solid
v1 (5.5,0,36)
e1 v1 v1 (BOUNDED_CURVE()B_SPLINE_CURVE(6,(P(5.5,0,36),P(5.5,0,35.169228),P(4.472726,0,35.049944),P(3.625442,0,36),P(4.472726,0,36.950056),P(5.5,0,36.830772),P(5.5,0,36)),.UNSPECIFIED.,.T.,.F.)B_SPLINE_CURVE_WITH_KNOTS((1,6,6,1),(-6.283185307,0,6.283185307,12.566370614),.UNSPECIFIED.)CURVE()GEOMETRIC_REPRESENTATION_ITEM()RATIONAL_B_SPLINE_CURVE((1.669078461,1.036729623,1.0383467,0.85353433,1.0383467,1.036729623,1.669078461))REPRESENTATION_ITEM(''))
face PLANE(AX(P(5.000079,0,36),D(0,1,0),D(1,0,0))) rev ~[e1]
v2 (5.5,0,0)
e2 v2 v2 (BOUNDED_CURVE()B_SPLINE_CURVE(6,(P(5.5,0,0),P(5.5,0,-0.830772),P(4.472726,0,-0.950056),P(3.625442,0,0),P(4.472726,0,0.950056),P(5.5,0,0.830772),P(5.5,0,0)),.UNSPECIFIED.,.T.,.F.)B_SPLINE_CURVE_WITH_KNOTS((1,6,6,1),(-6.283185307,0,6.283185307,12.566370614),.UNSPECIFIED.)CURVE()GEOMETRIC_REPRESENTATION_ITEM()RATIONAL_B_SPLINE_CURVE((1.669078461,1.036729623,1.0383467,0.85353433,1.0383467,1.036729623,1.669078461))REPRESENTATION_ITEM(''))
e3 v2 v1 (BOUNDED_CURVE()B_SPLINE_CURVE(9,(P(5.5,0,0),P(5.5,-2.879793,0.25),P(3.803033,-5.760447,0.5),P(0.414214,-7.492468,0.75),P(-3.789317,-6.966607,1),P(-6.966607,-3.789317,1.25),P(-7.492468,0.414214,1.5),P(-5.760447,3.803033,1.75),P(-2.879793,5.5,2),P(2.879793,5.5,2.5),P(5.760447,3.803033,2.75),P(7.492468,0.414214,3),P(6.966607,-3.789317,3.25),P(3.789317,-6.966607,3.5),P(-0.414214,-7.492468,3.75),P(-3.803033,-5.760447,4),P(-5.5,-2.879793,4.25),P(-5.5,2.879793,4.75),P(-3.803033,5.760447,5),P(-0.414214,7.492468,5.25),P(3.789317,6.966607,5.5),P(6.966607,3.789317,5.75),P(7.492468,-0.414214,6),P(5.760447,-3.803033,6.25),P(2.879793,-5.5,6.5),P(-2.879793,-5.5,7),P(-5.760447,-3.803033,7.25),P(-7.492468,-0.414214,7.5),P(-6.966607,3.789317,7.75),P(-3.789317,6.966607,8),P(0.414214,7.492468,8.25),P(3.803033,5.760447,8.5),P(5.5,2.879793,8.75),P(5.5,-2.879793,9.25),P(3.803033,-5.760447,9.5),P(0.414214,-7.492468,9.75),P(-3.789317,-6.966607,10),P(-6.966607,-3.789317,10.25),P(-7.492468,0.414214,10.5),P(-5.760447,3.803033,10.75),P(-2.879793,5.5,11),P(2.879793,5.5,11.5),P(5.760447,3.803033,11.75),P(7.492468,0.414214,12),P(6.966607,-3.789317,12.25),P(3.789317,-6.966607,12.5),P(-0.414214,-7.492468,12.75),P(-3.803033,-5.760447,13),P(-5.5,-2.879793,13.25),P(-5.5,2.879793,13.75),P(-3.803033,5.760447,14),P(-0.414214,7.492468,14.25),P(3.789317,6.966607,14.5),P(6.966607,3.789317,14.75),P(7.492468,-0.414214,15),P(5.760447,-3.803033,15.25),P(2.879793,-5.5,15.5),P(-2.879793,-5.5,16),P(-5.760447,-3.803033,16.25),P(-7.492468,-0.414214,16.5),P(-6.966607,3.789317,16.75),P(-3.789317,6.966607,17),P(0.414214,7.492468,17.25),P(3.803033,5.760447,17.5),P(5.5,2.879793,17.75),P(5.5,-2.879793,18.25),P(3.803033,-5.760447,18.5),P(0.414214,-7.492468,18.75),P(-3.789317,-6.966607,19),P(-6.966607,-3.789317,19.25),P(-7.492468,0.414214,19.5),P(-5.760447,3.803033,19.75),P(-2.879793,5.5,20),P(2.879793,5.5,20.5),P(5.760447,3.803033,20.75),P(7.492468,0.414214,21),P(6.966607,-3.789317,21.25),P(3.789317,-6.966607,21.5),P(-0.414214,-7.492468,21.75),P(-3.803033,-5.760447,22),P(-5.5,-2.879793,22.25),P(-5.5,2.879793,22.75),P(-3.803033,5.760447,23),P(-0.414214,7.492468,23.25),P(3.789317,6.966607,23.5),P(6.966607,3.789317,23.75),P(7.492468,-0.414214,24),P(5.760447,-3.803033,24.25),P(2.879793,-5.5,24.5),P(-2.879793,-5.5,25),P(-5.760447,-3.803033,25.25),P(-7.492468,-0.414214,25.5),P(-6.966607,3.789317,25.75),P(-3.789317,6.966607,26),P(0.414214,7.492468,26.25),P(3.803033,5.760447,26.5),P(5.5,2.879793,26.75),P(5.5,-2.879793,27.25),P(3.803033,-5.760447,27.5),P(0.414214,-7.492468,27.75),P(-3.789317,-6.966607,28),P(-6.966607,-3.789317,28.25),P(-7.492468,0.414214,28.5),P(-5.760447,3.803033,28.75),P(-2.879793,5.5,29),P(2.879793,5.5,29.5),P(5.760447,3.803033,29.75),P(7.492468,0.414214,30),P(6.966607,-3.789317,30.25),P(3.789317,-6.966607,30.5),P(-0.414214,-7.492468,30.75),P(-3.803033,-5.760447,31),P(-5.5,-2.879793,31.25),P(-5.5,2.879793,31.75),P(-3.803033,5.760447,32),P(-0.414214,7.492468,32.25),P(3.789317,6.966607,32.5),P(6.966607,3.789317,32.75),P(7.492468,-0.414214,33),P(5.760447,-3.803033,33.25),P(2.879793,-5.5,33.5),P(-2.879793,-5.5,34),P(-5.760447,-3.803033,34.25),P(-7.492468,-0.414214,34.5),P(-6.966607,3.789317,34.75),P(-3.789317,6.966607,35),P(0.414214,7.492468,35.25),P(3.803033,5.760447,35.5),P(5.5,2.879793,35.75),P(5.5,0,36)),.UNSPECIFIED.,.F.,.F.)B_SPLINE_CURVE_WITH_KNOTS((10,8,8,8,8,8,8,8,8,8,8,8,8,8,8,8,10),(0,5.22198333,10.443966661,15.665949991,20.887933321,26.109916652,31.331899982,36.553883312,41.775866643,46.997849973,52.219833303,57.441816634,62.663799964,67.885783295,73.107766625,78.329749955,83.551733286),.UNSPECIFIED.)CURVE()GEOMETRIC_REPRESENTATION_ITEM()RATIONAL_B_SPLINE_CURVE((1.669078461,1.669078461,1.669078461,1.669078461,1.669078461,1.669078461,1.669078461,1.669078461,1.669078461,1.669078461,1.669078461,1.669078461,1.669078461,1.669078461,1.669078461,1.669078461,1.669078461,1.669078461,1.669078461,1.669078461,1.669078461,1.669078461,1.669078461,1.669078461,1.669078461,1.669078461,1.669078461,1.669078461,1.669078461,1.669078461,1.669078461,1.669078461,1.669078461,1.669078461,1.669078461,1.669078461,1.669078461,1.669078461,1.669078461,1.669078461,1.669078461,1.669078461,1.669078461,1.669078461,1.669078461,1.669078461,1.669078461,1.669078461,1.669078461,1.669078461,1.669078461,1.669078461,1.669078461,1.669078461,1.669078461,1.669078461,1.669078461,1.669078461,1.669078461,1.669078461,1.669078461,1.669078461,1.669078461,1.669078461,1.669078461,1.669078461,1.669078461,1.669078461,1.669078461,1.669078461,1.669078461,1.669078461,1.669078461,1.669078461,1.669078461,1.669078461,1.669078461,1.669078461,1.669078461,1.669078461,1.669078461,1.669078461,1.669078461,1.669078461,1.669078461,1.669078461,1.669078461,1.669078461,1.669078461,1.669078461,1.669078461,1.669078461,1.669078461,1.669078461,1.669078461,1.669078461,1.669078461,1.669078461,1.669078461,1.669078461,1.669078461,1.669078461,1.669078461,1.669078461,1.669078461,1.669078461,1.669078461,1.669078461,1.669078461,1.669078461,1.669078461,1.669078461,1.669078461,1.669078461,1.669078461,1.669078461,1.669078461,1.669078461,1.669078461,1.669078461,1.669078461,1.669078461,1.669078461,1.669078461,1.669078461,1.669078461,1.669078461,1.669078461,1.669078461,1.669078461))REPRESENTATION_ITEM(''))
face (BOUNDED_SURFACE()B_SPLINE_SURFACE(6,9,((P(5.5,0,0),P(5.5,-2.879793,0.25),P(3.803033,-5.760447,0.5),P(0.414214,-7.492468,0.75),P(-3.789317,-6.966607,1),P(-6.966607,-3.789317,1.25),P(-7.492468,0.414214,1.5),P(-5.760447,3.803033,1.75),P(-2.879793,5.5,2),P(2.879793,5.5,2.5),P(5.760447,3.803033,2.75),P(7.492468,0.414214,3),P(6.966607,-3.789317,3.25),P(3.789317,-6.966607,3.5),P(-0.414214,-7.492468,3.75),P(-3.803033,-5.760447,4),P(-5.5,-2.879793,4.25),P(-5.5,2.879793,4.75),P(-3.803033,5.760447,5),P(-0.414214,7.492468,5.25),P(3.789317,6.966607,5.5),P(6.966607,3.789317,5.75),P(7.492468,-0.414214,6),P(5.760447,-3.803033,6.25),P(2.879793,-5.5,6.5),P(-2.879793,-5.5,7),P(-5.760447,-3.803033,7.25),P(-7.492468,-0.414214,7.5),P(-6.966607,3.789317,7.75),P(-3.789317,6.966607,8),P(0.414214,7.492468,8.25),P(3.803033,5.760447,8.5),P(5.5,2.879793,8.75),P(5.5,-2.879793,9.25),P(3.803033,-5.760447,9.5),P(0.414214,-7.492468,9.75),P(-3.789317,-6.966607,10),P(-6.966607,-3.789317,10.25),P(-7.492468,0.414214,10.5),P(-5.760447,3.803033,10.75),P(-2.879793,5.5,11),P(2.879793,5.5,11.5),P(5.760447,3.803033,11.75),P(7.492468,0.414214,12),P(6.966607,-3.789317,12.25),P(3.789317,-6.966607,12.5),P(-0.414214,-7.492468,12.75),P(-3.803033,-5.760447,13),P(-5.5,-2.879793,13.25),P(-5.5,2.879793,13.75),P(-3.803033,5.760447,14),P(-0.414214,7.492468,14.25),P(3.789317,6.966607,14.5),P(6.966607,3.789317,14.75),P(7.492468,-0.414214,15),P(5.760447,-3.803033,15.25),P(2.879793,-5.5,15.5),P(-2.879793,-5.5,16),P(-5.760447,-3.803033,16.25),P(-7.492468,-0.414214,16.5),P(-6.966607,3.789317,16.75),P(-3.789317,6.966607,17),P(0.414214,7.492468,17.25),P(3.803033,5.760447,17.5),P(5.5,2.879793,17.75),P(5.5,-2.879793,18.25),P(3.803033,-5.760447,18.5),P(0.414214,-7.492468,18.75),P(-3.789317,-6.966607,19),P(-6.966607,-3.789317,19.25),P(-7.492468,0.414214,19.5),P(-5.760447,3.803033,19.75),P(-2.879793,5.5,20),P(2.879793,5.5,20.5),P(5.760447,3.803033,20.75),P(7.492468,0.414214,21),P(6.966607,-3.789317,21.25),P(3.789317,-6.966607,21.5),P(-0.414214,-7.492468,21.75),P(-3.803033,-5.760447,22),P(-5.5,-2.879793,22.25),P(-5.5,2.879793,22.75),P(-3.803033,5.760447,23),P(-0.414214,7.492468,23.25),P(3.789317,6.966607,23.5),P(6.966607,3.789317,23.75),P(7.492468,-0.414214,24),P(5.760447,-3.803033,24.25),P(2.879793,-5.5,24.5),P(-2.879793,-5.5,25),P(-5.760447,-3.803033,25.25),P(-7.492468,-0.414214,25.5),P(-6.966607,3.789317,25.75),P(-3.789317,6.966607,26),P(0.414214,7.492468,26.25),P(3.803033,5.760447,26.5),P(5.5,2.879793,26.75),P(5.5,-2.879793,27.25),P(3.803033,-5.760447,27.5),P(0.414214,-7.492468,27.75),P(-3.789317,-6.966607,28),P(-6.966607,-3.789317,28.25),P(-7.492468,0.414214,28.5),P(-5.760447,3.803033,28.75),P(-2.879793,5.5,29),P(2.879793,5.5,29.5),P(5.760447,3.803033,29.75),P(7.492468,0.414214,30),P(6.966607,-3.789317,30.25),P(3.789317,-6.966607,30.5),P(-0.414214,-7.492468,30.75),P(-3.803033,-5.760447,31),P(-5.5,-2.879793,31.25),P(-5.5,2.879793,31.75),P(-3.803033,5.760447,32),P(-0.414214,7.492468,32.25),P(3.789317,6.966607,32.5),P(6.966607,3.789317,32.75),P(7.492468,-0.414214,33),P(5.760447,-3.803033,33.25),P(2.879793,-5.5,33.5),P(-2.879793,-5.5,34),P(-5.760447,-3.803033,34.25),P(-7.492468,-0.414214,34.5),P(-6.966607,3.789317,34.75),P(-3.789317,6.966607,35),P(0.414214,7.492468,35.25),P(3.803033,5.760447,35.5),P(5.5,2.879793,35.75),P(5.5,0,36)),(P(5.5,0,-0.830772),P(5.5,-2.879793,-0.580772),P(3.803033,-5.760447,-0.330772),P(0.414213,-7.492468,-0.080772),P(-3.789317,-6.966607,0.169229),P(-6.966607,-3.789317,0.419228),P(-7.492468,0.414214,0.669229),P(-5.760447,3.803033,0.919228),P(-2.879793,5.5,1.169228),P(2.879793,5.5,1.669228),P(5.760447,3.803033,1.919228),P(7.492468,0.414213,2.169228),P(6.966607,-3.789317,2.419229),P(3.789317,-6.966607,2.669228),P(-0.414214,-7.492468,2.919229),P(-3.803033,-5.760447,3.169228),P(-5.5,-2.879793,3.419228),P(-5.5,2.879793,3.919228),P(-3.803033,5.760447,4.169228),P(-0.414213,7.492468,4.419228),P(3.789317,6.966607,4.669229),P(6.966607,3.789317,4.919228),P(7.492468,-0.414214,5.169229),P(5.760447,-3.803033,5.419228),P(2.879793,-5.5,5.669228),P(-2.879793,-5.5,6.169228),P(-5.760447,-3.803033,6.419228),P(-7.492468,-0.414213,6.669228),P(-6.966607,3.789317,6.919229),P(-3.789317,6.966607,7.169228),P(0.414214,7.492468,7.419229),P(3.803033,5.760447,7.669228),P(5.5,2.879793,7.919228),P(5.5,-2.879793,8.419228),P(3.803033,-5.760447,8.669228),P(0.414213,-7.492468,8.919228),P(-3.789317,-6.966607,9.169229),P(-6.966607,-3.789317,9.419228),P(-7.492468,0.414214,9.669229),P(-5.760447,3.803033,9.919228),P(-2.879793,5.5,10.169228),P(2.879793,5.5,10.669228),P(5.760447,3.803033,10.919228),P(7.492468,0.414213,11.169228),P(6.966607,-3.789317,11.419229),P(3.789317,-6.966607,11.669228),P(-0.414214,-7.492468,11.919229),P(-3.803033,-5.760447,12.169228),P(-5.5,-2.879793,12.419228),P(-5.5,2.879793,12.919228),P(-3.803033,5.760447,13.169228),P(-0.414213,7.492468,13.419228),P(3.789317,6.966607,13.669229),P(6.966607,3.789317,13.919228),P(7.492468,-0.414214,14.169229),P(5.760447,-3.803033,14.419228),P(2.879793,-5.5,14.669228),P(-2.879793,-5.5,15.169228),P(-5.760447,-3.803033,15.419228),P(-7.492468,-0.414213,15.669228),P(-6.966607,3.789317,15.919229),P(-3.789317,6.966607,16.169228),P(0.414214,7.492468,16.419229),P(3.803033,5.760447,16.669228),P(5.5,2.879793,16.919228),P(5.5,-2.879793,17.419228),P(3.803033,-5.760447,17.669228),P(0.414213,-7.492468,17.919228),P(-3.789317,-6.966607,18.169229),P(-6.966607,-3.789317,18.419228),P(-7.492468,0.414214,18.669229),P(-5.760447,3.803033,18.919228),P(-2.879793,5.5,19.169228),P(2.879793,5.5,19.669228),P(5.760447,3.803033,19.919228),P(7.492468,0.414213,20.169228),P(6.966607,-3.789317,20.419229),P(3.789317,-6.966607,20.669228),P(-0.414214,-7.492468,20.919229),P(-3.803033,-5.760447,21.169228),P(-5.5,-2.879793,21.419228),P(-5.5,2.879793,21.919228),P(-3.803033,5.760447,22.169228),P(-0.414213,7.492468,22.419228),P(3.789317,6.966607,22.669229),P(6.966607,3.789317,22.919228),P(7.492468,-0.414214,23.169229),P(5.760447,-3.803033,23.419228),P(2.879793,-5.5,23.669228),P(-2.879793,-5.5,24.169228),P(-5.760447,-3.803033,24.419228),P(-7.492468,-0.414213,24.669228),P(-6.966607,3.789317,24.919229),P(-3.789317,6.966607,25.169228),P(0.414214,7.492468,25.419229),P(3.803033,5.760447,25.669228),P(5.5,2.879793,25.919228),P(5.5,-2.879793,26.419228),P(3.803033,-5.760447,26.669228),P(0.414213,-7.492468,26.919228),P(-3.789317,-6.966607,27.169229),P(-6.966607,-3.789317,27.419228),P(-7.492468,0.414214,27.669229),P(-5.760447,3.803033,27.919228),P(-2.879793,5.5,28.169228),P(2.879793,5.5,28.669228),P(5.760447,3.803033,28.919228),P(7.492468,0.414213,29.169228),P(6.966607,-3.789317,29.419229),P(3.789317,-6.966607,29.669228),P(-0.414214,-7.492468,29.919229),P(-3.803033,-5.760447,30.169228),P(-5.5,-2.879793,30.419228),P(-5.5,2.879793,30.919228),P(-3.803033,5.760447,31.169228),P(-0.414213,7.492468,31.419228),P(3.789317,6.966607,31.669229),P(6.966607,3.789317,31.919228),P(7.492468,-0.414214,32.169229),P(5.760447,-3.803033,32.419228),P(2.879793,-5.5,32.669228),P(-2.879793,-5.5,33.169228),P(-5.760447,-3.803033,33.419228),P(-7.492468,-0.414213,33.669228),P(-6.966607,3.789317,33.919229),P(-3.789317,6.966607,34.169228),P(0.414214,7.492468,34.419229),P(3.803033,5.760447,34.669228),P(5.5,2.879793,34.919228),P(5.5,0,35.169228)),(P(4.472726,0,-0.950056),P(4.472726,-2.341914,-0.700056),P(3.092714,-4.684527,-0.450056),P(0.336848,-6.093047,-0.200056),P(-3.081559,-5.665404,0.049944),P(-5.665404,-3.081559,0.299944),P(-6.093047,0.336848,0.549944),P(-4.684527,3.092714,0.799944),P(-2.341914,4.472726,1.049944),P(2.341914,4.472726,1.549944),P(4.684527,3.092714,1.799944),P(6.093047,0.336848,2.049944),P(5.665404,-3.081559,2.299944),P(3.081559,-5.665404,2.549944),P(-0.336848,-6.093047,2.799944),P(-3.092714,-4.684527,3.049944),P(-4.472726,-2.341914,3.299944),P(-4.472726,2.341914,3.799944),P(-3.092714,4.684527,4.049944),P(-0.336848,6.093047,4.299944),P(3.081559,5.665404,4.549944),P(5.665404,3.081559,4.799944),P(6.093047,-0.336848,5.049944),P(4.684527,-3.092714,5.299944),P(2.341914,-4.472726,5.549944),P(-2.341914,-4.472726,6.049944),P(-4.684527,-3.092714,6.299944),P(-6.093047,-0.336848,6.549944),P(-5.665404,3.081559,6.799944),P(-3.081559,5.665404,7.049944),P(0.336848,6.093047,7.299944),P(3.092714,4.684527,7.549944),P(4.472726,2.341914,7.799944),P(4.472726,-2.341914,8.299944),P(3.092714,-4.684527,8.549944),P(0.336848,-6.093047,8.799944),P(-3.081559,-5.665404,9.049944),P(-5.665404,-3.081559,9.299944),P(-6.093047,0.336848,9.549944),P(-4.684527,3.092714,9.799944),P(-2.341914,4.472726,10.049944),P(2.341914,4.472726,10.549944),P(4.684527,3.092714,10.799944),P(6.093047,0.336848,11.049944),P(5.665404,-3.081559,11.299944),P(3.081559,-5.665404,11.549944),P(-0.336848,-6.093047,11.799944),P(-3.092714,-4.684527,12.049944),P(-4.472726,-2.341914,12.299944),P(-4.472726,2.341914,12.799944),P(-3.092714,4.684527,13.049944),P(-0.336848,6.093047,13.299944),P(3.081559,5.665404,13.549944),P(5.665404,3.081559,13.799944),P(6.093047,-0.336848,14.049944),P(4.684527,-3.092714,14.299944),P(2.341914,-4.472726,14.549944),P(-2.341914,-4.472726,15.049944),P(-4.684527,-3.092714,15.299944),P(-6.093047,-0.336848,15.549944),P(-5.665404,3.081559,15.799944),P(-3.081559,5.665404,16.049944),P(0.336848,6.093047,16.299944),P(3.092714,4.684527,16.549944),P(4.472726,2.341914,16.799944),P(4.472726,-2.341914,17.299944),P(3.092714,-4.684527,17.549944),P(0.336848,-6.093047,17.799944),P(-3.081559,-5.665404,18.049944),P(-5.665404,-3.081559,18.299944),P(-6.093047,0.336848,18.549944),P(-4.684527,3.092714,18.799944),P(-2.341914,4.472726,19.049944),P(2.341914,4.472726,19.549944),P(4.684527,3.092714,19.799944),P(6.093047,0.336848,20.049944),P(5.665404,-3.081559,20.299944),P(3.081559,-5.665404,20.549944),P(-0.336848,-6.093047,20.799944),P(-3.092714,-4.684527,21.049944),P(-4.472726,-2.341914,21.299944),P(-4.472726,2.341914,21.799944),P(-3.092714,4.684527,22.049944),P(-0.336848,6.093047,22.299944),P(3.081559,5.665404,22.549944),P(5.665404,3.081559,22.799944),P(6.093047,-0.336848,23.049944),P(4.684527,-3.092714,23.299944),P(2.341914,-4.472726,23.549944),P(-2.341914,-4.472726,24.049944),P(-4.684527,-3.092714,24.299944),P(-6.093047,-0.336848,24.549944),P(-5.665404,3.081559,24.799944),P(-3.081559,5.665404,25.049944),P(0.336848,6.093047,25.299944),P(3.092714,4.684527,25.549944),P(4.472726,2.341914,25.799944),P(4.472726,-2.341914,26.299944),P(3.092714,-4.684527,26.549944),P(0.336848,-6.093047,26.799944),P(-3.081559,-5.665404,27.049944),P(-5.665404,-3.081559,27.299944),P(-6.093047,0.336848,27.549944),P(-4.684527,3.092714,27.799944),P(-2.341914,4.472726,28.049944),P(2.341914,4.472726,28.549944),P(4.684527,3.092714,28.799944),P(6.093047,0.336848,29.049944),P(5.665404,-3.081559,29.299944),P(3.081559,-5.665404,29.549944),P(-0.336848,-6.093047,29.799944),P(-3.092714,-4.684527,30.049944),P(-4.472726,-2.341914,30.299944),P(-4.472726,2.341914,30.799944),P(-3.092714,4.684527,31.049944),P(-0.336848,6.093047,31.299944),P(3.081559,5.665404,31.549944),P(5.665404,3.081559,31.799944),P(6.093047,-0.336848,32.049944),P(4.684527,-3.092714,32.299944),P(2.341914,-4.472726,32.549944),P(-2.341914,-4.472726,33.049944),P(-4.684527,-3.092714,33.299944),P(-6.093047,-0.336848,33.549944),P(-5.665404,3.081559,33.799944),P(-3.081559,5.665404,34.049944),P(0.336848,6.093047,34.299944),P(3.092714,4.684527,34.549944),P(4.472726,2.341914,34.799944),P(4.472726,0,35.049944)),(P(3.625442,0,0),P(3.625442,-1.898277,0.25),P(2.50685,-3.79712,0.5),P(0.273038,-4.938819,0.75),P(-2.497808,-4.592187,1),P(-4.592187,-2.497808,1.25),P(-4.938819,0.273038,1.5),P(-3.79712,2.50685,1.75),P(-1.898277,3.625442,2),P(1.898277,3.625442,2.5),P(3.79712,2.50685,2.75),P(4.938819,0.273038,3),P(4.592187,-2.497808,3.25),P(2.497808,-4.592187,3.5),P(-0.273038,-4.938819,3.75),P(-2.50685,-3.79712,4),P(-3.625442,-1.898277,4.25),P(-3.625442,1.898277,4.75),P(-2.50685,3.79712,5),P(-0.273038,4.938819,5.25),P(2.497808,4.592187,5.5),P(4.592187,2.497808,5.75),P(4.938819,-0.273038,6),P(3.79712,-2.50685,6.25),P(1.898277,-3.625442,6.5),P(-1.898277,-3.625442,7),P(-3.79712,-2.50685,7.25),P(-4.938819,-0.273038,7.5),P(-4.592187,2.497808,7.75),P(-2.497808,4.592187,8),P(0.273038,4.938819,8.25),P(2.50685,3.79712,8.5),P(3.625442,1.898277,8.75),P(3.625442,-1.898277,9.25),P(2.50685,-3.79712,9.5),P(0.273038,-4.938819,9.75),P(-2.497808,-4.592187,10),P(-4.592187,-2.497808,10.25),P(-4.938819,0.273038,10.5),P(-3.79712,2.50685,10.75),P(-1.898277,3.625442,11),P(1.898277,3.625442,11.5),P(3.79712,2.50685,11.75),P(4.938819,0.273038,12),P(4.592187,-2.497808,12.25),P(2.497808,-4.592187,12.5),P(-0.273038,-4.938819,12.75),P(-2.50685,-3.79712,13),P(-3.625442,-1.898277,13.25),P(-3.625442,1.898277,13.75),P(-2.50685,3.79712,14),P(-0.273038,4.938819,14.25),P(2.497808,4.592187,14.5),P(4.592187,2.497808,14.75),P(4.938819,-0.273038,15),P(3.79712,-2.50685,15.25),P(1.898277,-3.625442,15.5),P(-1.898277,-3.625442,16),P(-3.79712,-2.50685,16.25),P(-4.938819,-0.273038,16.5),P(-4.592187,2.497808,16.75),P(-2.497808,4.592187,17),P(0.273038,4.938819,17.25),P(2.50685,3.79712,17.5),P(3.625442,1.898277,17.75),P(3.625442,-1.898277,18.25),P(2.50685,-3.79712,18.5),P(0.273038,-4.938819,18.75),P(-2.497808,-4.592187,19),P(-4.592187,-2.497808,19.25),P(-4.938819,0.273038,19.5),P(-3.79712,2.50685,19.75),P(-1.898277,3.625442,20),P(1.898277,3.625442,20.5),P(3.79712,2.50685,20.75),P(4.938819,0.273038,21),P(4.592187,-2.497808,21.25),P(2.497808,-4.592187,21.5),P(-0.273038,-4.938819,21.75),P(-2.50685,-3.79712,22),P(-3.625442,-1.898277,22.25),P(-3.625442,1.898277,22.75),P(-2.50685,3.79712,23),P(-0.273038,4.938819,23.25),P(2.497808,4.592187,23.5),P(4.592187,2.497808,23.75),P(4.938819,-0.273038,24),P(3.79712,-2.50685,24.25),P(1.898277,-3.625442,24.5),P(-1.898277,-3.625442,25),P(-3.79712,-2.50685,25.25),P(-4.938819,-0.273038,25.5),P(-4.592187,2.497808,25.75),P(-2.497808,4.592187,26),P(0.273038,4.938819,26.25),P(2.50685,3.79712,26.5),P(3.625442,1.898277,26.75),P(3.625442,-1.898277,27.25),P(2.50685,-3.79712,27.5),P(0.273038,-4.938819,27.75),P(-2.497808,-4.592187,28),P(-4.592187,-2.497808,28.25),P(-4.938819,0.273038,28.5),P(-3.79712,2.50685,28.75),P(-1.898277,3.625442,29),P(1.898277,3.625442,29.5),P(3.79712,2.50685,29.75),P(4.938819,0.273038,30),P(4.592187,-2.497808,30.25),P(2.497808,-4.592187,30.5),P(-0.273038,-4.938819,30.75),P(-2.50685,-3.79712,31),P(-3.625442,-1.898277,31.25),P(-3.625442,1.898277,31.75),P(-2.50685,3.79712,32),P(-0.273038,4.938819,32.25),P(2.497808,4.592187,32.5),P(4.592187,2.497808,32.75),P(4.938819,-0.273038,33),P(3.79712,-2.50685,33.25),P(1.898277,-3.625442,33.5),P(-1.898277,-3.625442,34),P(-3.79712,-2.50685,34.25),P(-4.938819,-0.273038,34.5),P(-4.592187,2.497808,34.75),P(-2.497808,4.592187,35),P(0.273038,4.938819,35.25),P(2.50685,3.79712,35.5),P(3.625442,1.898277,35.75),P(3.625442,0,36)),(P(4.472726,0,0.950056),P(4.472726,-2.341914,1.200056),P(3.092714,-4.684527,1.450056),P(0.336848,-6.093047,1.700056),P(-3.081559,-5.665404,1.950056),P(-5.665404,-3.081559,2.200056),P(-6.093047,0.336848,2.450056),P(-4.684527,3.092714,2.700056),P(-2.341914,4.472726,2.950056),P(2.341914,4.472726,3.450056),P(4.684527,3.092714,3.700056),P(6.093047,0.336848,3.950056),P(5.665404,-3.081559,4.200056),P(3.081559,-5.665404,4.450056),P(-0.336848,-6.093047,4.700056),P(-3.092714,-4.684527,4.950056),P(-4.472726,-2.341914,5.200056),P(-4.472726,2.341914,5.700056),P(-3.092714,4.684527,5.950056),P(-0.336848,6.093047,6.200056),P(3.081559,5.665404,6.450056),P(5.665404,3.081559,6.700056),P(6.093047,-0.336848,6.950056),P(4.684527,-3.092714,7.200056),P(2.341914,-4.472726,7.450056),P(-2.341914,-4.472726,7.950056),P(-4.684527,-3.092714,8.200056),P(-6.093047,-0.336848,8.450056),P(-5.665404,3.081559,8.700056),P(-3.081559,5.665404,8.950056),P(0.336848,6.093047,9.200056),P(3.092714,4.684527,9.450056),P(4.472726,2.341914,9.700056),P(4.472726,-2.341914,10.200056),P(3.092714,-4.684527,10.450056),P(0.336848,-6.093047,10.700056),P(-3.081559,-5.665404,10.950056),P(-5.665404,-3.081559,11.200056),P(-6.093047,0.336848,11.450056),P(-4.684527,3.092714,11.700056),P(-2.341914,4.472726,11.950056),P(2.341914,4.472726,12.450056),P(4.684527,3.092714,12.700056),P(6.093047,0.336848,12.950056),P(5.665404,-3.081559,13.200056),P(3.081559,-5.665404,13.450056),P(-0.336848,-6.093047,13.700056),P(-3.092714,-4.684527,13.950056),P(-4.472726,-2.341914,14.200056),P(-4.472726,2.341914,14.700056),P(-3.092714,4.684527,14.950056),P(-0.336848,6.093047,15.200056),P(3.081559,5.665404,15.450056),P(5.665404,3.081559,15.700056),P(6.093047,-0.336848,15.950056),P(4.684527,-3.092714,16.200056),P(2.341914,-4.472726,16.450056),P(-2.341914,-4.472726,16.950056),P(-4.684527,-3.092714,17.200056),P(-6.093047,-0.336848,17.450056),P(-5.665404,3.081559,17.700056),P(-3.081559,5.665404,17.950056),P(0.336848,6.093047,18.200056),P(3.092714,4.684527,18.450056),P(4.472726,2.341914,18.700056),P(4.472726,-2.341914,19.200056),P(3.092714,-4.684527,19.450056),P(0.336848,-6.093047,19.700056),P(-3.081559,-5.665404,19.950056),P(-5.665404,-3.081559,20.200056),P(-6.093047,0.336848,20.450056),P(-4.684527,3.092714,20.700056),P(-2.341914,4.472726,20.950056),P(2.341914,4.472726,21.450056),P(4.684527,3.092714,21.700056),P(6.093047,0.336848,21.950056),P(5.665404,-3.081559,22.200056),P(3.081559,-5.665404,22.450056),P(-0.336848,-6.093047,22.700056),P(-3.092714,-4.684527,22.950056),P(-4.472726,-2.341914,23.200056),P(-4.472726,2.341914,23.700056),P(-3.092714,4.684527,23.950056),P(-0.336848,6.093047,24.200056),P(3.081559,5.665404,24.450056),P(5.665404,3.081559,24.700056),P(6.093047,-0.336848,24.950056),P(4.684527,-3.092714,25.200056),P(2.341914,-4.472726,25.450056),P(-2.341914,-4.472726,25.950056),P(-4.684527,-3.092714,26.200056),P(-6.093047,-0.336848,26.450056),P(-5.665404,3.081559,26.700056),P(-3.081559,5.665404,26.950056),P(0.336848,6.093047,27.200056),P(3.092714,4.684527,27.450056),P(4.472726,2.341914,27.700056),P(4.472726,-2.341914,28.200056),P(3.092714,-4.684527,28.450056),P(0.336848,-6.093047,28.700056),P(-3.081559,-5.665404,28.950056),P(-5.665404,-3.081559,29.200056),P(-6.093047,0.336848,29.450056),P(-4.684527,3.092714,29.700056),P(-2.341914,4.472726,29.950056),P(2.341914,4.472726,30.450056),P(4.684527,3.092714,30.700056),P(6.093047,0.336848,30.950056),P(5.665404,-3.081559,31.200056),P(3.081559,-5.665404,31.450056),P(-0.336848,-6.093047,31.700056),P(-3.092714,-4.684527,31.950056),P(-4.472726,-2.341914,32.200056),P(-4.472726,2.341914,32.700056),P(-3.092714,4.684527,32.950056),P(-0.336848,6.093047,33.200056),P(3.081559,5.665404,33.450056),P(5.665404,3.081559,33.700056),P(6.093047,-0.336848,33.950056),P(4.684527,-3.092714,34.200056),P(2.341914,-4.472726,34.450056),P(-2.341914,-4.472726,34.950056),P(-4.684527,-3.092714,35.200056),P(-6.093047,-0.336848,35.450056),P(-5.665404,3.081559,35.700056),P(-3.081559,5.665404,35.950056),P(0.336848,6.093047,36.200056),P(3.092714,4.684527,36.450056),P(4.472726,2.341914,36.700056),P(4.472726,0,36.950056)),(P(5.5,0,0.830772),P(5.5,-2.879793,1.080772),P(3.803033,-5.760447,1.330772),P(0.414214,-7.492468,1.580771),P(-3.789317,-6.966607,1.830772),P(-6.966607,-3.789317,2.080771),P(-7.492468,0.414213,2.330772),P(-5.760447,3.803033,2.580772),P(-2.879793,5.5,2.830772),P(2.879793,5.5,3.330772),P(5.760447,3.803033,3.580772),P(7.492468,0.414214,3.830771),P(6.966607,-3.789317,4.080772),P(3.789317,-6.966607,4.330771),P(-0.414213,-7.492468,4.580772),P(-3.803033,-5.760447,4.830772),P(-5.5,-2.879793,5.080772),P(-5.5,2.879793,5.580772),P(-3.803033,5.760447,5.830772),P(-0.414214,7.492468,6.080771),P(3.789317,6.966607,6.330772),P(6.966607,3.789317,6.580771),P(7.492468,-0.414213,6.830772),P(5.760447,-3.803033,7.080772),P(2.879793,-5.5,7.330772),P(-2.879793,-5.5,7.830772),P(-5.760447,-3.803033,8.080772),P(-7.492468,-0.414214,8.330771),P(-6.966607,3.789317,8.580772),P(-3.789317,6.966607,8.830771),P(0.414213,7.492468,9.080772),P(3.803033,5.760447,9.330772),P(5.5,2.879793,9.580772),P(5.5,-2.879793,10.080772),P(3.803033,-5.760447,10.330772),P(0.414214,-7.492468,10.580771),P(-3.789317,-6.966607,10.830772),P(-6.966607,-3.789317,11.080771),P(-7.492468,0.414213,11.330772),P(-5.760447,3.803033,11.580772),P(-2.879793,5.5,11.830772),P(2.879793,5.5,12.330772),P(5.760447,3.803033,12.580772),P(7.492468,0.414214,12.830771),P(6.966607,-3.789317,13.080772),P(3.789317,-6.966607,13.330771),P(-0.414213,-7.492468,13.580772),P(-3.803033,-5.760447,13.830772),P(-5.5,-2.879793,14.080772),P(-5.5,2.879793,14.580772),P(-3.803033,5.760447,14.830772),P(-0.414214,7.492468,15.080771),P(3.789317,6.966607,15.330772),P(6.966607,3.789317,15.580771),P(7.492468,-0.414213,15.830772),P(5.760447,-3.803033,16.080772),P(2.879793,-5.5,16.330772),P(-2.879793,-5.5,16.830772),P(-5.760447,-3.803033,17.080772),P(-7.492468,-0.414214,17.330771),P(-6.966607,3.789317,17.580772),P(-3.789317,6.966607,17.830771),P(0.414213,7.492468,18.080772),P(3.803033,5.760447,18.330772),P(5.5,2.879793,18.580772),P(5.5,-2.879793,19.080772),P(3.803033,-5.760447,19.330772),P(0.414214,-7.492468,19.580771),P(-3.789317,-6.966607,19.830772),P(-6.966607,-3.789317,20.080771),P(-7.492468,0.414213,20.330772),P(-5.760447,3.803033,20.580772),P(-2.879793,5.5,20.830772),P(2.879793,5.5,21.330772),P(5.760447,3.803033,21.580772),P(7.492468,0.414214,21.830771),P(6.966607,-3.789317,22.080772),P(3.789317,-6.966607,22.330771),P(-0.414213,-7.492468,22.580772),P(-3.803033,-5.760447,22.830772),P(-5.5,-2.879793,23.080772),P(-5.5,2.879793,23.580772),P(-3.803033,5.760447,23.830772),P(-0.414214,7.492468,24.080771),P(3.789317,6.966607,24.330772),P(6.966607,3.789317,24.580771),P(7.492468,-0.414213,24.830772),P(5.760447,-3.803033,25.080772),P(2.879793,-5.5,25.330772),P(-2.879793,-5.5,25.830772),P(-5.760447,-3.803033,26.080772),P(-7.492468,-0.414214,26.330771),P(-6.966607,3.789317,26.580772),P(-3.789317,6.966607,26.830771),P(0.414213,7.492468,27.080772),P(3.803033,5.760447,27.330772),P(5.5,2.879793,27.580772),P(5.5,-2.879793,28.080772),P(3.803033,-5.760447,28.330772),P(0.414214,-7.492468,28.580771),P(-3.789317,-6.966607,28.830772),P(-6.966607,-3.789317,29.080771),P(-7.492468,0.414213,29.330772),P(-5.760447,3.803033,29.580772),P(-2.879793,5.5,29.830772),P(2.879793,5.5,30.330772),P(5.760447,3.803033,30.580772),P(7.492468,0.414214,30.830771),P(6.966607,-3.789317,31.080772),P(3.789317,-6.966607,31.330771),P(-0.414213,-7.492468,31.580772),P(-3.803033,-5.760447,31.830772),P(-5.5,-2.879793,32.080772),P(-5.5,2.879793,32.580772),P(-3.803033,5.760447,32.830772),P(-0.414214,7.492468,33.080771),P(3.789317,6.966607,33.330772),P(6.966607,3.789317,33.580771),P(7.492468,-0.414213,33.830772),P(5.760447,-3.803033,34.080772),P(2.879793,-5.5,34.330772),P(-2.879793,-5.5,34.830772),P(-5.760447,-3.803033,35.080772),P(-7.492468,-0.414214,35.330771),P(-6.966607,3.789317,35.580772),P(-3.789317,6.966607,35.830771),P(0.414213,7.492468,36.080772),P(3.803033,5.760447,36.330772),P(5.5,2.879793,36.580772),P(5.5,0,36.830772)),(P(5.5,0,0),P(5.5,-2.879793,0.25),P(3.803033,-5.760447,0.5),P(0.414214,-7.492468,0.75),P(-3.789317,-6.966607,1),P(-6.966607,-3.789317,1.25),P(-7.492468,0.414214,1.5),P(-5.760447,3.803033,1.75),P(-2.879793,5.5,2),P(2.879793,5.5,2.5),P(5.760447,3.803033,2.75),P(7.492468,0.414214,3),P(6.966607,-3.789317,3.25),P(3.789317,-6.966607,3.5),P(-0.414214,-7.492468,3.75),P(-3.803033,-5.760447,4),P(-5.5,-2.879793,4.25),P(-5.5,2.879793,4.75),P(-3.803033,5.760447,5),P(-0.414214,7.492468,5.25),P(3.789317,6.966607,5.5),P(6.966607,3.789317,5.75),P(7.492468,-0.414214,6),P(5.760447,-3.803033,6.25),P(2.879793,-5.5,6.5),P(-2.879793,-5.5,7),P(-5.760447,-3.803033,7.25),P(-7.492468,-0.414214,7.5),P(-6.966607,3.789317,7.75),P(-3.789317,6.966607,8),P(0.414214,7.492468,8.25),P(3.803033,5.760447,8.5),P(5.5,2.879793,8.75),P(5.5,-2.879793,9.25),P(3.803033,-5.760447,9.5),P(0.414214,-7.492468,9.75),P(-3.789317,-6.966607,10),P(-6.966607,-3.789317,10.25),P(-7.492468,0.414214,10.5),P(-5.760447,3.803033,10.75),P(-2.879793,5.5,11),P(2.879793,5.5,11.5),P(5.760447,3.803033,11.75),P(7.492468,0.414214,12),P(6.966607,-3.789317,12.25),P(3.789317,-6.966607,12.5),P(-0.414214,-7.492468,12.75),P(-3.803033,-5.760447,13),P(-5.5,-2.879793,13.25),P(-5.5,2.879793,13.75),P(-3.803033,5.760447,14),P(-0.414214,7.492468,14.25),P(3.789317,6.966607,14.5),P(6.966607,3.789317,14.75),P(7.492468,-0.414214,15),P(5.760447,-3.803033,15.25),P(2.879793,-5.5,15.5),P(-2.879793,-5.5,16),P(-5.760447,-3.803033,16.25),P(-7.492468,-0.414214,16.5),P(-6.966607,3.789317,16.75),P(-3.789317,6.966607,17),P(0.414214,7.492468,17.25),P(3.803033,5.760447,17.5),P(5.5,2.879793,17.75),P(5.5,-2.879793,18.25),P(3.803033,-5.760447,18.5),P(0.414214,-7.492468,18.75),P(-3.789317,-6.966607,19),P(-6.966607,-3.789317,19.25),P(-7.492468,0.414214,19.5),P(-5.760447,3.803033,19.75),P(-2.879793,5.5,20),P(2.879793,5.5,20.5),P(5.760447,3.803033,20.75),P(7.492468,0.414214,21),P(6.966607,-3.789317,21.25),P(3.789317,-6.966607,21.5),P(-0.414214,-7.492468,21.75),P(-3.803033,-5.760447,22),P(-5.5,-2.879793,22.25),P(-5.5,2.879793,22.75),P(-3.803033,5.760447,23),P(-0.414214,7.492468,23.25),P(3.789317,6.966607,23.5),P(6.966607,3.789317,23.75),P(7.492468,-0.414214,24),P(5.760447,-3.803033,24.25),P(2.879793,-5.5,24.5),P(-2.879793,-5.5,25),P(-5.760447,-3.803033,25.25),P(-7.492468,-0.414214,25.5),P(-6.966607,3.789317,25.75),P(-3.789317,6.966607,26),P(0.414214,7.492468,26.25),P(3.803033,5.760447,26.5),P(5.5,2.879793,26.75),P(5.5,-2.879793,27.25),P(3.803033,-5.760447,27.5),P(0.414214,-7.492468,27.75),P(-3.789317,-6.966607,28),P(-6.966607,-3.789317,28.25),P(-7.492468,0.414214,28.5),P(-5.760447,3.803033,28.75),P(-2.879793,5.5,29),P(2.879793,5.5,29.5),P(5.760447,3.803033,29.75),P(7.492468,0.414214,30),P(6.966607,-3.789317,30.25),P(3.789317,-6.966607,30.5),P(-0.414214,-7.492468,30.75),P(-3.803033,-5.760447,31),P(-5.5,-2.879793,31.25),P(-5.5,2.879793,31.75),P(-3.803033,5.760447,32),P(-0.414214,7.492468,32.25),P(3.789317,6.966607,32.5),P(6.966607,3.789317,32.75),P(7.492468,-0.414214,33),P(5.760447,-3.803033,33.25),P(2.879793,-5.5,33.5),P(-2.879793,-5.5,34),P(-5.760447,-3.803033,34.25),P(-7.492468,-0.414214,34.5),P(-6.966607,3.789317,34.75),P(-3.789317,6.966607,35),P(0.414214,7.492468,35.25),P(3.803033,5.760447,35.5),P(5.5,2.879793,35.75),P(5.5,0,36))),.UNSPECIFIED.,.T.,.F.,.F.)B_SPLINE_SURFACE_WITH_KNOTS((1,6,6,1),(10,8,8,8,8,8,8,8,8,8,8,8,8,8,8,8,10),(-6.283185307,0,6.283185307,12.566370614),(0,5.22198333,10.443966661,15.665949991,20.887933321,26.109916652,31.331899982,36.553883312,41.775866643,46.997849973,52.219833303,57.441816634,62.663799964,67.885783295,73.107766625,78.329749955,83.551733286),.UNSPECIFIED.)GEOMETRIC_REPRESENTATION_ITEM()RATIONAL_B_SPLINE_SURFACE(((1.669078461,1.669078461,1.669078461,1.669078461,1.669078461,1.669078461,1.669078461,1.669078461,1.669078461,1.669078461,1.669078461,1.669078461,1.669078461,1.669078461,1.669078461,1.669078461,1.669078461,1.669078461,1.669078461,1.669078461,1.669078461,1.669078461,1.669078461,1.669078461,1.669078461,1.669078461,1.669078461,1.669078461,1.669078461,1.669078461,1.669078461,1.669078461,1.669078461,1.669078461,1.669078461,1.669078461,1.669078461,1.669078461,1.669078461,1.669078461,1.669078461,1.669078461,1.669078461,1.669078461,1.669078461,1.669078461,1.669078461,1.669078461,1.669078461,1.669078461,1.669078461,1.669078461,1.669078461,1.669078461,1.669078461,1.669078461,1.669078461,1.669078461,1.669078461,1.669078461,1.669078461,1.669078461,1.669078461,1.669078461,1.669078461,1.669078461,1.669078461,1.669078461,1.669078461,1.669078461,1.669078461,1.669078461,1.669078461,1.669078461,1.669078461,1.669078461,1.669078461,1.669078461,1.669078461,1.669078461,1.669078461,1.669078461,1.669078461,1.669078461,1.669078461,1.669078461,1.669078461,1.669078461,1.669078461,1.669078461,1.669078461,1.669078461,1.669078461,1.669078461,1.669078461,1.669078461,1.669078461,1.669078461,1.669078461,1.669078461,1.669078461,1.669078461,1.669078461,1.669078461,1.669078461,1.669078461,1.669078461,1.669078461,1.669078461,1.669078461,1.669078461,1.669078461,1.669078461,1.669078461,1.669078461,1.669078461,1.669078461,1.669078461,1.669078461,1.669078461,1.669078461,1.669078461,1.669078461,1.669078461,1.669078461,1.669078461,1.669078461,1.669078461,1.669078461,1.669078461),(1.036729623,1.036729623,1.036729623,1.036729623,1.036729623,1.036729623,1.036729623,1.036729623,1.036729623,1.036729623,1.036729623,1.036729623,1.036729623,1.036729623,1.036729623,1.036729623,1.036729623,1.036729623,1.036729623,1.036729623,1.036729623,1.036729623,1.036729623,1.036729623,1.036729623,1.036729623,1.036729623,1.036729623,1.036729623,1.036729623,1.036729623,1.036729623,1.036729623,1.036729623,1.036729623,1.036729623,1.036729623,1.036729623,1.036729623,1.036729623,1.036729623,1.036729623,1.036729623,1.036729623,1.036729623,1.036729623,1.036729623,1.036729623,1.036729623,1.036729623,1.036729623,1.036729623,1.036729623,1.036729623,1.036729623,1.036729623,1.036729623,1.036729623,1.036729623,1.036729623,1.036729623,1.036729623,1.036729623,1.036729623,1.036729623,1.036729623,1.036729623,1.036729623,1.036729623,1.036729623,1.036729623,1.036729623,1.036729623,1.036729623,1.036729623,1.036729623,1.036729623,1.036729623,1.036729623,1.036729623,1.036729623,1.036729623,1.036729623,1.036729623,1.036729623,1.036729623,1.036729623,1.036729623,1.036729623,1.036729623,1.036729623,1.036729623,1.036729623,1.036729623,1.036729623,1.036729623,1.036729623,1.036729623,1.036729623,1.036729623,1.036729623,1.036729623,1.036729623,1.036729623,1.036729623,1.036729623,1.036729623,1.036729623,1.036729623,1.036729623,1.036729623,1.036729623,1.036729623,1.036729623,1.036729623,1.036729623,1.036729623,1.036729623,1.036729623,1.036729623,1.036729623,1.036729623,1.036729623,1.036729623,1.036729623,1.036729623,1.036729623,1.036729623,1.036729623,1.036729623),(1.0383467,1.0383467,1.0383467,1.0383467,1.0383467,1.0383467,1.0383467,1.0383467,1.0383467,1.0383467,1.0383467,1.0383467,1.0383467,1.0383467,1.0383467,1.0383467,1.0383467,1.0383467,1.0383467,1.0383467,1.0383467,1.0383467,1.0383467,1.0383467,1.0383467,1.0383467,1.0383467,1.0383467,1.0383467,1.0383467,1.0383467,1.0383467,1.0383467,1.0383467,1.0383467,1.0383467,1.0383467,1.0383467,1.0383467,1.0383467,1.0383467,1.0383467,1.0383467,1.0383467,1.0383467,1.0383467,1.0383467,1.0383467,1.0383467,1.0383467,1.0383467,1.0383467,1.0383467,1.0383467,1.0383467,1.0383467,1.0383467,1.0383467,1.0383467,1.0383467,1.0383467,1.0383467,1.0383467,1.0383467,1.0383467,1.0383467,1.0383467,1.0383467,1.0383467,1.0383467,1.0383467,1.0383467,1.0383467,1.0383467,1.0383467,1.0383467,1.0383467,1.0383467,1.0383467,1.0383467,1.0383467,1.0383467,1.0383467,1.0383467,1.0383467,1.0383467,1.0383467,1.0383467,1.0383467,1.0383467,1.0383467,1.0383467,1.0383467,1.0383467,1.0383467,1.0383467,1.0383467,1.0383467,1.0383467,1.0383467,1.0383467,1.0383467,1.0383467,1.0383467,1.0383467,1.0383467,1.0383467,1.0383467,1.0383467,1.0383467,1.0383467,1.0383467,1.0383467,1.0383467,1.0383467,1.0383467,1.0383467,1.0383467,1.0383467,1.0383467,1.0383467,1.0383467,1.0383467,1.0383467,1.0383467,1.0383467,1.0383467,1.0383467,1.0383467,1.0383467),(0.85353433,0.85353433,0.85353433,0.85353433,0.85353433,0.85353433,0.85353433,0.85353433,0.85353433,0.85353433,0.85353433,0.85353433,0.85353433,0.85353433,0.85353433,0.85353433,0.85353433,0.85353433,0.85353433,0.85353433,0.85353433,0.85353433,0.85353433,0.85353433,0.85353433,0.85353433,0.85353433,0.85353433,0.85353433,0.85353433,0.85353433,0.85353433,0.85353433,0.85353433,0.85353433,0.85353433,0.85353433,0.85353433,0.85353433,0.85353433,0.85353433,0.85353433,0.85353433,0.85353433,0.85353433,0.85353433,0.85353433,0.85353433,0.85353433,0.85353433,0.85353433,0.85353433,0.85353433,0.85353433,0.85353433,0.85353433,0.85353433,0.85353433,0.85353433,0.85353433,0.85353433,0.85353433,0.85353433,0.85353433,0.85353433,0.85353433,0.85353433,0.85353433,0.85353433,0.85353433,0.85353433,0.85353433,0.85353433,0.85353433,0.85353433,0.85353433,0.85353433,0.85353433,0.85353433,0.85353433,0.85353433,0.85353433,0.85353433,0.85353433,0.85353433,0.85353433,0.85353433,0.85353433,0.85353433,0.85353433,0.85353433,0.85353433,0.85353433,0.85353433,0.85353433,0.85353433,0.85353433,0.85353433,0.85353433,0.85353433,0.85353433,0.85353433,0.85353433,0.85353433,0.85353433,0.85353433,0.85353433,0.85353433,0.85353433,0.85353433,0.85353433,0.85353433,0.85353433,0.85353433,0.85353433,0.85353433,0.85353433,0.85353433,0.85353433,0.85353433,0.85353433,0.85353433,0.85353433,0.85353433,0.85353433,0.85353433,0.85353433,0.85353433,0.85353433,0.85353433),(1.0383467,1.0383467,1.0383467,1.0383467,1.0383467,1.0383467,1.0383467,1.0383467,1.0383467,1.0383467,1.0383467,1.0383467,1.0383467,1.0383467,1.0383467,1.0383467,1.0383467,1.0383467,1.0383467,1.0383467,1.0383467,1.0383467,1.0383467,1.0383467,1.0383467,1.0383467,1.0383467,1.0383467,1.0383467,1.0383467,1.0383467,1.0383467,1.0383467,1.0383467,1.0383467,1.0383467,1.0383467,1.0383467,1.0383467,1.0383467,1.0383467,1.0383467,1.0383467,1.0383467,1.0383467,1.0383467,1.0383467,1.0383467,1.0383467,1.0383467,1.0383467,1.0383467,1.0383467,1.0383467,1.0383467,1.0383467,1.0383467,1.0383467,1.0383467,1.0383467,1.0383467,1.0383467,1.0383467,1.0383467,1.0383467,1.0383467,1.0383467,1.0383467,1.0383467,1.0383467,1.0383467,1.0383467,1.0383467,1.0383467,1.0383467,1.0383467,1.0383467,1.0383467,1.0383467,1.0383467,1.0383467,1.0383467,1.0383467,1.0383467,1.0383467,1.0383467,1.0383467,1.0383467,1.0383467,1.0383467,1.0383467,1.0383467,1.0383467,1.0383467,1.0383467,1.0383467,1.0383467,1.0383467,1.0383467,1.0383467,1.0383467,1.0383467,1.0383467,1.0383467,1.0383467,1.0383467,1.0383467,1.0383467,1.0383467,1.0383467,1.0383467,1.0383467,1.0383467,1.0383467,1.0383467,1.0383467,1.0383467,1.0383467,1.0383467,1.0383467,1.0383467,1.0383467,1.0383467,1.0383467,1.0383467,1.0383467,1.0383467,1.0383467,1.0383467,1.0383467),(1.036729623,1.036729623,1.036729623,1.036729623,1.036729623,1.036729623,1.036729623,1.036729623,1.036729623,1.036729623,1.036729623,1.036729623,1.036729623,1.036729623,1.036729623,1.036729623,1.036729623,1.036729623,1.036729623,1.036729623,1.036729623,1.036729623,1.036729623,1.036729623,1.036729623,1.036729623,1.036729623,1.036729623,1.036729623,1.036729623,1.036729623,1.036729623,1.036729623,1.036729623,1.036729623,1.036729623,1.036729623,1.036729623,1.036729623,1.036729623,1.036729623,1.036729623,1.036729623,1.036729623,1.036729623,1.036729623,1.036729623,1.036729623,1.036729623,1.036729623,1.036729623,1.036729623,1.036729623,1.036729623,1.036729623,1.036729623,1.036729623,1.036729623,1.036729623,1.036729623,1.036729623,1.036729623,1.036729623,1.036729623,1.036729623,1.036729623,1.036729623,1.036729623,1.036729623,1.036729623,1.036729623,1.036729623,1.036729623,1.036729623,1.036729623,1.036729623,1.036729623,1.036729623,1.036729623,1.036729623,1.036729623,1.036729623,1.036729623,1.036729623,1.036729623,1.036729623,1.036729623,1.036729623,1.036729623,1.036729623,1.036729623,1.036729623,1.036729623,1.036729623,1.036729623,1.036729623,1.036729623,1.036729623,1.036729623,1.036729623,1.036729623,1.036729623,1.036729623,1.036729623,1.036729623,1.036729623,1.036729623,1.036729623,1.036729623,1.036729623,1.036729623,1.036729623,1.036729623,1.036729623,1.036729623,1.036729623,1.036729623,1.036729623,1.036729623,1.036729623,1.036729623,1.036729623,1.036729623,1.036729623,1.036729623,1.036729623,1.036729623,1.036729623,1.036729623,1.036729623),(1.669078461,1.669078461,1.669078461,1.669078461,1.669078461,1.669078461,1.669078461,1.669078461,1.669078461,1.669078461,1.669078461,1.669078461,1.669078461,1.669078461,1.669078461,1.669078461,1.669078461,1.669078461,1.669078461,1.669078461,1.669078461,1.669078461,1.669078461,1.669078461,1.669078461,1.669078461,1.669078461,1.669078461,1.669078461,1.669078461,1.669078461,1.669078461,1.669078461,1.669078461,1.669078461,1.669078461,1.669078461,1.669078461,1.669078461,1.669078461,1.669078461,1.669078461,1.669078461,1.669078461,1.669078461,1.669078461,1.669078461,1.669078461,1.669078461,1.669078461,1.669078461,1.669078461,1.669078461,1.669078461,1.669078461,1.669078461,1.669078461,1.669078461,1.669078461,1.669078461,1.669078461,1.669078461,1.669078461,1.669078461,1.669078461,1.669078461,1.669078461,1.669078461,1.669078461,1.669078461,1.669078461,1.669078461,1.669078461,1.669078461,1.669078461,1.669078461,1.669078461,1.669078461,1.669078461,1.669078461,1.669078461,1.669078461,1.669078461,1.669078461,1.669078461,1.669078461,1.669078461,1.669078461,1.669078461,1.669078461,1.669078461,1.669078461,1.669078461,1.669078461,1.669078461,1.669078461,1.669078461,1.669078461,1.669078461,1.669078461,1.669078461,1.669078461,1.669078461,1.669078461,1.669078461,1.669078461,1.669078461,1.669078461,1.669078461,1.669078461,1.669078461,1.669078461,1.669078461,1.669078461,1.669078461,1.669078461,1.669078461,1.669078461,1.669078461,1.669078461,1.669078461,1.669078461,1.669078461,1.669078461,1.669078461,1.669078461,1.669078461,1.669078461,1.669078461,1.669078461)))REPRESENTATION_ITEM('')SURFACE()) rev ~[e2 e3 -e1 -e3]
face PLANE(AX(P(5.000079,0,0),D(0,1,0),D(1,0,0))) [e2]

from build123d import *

# Parameters (mm, degrees)
SWEEP_1_PITCH  = 3
SWEEP_1_HEIGHT = 36
SWEEP_1_RADIUS = 5
SKETCH_6_R     = 0.5


with BuildPart() as part:
    # 掃出1: sweep along a helix
    with BuildLine() as sweep_1_path:
        Helix(SWEEP_1_PITCH, SWEEP_1_HEIGHT, SWEEP_1_RADIUS, center=(0, 0, 0), direction=(0, 0, 1), lefthand=True)
    # 草圖6 → 掃出1 (sweep)
    with BuildSketch(Plane(origin=(0, 0, 0), x_dir=(1, 0, 0), z_dir=(0, 1, 0))):
        with Locations((5, 0)):
            Circle(SKETCH_6_R)
    sweep(path=sweep_1_path.line, is_frenet=True)


solid = part.part
